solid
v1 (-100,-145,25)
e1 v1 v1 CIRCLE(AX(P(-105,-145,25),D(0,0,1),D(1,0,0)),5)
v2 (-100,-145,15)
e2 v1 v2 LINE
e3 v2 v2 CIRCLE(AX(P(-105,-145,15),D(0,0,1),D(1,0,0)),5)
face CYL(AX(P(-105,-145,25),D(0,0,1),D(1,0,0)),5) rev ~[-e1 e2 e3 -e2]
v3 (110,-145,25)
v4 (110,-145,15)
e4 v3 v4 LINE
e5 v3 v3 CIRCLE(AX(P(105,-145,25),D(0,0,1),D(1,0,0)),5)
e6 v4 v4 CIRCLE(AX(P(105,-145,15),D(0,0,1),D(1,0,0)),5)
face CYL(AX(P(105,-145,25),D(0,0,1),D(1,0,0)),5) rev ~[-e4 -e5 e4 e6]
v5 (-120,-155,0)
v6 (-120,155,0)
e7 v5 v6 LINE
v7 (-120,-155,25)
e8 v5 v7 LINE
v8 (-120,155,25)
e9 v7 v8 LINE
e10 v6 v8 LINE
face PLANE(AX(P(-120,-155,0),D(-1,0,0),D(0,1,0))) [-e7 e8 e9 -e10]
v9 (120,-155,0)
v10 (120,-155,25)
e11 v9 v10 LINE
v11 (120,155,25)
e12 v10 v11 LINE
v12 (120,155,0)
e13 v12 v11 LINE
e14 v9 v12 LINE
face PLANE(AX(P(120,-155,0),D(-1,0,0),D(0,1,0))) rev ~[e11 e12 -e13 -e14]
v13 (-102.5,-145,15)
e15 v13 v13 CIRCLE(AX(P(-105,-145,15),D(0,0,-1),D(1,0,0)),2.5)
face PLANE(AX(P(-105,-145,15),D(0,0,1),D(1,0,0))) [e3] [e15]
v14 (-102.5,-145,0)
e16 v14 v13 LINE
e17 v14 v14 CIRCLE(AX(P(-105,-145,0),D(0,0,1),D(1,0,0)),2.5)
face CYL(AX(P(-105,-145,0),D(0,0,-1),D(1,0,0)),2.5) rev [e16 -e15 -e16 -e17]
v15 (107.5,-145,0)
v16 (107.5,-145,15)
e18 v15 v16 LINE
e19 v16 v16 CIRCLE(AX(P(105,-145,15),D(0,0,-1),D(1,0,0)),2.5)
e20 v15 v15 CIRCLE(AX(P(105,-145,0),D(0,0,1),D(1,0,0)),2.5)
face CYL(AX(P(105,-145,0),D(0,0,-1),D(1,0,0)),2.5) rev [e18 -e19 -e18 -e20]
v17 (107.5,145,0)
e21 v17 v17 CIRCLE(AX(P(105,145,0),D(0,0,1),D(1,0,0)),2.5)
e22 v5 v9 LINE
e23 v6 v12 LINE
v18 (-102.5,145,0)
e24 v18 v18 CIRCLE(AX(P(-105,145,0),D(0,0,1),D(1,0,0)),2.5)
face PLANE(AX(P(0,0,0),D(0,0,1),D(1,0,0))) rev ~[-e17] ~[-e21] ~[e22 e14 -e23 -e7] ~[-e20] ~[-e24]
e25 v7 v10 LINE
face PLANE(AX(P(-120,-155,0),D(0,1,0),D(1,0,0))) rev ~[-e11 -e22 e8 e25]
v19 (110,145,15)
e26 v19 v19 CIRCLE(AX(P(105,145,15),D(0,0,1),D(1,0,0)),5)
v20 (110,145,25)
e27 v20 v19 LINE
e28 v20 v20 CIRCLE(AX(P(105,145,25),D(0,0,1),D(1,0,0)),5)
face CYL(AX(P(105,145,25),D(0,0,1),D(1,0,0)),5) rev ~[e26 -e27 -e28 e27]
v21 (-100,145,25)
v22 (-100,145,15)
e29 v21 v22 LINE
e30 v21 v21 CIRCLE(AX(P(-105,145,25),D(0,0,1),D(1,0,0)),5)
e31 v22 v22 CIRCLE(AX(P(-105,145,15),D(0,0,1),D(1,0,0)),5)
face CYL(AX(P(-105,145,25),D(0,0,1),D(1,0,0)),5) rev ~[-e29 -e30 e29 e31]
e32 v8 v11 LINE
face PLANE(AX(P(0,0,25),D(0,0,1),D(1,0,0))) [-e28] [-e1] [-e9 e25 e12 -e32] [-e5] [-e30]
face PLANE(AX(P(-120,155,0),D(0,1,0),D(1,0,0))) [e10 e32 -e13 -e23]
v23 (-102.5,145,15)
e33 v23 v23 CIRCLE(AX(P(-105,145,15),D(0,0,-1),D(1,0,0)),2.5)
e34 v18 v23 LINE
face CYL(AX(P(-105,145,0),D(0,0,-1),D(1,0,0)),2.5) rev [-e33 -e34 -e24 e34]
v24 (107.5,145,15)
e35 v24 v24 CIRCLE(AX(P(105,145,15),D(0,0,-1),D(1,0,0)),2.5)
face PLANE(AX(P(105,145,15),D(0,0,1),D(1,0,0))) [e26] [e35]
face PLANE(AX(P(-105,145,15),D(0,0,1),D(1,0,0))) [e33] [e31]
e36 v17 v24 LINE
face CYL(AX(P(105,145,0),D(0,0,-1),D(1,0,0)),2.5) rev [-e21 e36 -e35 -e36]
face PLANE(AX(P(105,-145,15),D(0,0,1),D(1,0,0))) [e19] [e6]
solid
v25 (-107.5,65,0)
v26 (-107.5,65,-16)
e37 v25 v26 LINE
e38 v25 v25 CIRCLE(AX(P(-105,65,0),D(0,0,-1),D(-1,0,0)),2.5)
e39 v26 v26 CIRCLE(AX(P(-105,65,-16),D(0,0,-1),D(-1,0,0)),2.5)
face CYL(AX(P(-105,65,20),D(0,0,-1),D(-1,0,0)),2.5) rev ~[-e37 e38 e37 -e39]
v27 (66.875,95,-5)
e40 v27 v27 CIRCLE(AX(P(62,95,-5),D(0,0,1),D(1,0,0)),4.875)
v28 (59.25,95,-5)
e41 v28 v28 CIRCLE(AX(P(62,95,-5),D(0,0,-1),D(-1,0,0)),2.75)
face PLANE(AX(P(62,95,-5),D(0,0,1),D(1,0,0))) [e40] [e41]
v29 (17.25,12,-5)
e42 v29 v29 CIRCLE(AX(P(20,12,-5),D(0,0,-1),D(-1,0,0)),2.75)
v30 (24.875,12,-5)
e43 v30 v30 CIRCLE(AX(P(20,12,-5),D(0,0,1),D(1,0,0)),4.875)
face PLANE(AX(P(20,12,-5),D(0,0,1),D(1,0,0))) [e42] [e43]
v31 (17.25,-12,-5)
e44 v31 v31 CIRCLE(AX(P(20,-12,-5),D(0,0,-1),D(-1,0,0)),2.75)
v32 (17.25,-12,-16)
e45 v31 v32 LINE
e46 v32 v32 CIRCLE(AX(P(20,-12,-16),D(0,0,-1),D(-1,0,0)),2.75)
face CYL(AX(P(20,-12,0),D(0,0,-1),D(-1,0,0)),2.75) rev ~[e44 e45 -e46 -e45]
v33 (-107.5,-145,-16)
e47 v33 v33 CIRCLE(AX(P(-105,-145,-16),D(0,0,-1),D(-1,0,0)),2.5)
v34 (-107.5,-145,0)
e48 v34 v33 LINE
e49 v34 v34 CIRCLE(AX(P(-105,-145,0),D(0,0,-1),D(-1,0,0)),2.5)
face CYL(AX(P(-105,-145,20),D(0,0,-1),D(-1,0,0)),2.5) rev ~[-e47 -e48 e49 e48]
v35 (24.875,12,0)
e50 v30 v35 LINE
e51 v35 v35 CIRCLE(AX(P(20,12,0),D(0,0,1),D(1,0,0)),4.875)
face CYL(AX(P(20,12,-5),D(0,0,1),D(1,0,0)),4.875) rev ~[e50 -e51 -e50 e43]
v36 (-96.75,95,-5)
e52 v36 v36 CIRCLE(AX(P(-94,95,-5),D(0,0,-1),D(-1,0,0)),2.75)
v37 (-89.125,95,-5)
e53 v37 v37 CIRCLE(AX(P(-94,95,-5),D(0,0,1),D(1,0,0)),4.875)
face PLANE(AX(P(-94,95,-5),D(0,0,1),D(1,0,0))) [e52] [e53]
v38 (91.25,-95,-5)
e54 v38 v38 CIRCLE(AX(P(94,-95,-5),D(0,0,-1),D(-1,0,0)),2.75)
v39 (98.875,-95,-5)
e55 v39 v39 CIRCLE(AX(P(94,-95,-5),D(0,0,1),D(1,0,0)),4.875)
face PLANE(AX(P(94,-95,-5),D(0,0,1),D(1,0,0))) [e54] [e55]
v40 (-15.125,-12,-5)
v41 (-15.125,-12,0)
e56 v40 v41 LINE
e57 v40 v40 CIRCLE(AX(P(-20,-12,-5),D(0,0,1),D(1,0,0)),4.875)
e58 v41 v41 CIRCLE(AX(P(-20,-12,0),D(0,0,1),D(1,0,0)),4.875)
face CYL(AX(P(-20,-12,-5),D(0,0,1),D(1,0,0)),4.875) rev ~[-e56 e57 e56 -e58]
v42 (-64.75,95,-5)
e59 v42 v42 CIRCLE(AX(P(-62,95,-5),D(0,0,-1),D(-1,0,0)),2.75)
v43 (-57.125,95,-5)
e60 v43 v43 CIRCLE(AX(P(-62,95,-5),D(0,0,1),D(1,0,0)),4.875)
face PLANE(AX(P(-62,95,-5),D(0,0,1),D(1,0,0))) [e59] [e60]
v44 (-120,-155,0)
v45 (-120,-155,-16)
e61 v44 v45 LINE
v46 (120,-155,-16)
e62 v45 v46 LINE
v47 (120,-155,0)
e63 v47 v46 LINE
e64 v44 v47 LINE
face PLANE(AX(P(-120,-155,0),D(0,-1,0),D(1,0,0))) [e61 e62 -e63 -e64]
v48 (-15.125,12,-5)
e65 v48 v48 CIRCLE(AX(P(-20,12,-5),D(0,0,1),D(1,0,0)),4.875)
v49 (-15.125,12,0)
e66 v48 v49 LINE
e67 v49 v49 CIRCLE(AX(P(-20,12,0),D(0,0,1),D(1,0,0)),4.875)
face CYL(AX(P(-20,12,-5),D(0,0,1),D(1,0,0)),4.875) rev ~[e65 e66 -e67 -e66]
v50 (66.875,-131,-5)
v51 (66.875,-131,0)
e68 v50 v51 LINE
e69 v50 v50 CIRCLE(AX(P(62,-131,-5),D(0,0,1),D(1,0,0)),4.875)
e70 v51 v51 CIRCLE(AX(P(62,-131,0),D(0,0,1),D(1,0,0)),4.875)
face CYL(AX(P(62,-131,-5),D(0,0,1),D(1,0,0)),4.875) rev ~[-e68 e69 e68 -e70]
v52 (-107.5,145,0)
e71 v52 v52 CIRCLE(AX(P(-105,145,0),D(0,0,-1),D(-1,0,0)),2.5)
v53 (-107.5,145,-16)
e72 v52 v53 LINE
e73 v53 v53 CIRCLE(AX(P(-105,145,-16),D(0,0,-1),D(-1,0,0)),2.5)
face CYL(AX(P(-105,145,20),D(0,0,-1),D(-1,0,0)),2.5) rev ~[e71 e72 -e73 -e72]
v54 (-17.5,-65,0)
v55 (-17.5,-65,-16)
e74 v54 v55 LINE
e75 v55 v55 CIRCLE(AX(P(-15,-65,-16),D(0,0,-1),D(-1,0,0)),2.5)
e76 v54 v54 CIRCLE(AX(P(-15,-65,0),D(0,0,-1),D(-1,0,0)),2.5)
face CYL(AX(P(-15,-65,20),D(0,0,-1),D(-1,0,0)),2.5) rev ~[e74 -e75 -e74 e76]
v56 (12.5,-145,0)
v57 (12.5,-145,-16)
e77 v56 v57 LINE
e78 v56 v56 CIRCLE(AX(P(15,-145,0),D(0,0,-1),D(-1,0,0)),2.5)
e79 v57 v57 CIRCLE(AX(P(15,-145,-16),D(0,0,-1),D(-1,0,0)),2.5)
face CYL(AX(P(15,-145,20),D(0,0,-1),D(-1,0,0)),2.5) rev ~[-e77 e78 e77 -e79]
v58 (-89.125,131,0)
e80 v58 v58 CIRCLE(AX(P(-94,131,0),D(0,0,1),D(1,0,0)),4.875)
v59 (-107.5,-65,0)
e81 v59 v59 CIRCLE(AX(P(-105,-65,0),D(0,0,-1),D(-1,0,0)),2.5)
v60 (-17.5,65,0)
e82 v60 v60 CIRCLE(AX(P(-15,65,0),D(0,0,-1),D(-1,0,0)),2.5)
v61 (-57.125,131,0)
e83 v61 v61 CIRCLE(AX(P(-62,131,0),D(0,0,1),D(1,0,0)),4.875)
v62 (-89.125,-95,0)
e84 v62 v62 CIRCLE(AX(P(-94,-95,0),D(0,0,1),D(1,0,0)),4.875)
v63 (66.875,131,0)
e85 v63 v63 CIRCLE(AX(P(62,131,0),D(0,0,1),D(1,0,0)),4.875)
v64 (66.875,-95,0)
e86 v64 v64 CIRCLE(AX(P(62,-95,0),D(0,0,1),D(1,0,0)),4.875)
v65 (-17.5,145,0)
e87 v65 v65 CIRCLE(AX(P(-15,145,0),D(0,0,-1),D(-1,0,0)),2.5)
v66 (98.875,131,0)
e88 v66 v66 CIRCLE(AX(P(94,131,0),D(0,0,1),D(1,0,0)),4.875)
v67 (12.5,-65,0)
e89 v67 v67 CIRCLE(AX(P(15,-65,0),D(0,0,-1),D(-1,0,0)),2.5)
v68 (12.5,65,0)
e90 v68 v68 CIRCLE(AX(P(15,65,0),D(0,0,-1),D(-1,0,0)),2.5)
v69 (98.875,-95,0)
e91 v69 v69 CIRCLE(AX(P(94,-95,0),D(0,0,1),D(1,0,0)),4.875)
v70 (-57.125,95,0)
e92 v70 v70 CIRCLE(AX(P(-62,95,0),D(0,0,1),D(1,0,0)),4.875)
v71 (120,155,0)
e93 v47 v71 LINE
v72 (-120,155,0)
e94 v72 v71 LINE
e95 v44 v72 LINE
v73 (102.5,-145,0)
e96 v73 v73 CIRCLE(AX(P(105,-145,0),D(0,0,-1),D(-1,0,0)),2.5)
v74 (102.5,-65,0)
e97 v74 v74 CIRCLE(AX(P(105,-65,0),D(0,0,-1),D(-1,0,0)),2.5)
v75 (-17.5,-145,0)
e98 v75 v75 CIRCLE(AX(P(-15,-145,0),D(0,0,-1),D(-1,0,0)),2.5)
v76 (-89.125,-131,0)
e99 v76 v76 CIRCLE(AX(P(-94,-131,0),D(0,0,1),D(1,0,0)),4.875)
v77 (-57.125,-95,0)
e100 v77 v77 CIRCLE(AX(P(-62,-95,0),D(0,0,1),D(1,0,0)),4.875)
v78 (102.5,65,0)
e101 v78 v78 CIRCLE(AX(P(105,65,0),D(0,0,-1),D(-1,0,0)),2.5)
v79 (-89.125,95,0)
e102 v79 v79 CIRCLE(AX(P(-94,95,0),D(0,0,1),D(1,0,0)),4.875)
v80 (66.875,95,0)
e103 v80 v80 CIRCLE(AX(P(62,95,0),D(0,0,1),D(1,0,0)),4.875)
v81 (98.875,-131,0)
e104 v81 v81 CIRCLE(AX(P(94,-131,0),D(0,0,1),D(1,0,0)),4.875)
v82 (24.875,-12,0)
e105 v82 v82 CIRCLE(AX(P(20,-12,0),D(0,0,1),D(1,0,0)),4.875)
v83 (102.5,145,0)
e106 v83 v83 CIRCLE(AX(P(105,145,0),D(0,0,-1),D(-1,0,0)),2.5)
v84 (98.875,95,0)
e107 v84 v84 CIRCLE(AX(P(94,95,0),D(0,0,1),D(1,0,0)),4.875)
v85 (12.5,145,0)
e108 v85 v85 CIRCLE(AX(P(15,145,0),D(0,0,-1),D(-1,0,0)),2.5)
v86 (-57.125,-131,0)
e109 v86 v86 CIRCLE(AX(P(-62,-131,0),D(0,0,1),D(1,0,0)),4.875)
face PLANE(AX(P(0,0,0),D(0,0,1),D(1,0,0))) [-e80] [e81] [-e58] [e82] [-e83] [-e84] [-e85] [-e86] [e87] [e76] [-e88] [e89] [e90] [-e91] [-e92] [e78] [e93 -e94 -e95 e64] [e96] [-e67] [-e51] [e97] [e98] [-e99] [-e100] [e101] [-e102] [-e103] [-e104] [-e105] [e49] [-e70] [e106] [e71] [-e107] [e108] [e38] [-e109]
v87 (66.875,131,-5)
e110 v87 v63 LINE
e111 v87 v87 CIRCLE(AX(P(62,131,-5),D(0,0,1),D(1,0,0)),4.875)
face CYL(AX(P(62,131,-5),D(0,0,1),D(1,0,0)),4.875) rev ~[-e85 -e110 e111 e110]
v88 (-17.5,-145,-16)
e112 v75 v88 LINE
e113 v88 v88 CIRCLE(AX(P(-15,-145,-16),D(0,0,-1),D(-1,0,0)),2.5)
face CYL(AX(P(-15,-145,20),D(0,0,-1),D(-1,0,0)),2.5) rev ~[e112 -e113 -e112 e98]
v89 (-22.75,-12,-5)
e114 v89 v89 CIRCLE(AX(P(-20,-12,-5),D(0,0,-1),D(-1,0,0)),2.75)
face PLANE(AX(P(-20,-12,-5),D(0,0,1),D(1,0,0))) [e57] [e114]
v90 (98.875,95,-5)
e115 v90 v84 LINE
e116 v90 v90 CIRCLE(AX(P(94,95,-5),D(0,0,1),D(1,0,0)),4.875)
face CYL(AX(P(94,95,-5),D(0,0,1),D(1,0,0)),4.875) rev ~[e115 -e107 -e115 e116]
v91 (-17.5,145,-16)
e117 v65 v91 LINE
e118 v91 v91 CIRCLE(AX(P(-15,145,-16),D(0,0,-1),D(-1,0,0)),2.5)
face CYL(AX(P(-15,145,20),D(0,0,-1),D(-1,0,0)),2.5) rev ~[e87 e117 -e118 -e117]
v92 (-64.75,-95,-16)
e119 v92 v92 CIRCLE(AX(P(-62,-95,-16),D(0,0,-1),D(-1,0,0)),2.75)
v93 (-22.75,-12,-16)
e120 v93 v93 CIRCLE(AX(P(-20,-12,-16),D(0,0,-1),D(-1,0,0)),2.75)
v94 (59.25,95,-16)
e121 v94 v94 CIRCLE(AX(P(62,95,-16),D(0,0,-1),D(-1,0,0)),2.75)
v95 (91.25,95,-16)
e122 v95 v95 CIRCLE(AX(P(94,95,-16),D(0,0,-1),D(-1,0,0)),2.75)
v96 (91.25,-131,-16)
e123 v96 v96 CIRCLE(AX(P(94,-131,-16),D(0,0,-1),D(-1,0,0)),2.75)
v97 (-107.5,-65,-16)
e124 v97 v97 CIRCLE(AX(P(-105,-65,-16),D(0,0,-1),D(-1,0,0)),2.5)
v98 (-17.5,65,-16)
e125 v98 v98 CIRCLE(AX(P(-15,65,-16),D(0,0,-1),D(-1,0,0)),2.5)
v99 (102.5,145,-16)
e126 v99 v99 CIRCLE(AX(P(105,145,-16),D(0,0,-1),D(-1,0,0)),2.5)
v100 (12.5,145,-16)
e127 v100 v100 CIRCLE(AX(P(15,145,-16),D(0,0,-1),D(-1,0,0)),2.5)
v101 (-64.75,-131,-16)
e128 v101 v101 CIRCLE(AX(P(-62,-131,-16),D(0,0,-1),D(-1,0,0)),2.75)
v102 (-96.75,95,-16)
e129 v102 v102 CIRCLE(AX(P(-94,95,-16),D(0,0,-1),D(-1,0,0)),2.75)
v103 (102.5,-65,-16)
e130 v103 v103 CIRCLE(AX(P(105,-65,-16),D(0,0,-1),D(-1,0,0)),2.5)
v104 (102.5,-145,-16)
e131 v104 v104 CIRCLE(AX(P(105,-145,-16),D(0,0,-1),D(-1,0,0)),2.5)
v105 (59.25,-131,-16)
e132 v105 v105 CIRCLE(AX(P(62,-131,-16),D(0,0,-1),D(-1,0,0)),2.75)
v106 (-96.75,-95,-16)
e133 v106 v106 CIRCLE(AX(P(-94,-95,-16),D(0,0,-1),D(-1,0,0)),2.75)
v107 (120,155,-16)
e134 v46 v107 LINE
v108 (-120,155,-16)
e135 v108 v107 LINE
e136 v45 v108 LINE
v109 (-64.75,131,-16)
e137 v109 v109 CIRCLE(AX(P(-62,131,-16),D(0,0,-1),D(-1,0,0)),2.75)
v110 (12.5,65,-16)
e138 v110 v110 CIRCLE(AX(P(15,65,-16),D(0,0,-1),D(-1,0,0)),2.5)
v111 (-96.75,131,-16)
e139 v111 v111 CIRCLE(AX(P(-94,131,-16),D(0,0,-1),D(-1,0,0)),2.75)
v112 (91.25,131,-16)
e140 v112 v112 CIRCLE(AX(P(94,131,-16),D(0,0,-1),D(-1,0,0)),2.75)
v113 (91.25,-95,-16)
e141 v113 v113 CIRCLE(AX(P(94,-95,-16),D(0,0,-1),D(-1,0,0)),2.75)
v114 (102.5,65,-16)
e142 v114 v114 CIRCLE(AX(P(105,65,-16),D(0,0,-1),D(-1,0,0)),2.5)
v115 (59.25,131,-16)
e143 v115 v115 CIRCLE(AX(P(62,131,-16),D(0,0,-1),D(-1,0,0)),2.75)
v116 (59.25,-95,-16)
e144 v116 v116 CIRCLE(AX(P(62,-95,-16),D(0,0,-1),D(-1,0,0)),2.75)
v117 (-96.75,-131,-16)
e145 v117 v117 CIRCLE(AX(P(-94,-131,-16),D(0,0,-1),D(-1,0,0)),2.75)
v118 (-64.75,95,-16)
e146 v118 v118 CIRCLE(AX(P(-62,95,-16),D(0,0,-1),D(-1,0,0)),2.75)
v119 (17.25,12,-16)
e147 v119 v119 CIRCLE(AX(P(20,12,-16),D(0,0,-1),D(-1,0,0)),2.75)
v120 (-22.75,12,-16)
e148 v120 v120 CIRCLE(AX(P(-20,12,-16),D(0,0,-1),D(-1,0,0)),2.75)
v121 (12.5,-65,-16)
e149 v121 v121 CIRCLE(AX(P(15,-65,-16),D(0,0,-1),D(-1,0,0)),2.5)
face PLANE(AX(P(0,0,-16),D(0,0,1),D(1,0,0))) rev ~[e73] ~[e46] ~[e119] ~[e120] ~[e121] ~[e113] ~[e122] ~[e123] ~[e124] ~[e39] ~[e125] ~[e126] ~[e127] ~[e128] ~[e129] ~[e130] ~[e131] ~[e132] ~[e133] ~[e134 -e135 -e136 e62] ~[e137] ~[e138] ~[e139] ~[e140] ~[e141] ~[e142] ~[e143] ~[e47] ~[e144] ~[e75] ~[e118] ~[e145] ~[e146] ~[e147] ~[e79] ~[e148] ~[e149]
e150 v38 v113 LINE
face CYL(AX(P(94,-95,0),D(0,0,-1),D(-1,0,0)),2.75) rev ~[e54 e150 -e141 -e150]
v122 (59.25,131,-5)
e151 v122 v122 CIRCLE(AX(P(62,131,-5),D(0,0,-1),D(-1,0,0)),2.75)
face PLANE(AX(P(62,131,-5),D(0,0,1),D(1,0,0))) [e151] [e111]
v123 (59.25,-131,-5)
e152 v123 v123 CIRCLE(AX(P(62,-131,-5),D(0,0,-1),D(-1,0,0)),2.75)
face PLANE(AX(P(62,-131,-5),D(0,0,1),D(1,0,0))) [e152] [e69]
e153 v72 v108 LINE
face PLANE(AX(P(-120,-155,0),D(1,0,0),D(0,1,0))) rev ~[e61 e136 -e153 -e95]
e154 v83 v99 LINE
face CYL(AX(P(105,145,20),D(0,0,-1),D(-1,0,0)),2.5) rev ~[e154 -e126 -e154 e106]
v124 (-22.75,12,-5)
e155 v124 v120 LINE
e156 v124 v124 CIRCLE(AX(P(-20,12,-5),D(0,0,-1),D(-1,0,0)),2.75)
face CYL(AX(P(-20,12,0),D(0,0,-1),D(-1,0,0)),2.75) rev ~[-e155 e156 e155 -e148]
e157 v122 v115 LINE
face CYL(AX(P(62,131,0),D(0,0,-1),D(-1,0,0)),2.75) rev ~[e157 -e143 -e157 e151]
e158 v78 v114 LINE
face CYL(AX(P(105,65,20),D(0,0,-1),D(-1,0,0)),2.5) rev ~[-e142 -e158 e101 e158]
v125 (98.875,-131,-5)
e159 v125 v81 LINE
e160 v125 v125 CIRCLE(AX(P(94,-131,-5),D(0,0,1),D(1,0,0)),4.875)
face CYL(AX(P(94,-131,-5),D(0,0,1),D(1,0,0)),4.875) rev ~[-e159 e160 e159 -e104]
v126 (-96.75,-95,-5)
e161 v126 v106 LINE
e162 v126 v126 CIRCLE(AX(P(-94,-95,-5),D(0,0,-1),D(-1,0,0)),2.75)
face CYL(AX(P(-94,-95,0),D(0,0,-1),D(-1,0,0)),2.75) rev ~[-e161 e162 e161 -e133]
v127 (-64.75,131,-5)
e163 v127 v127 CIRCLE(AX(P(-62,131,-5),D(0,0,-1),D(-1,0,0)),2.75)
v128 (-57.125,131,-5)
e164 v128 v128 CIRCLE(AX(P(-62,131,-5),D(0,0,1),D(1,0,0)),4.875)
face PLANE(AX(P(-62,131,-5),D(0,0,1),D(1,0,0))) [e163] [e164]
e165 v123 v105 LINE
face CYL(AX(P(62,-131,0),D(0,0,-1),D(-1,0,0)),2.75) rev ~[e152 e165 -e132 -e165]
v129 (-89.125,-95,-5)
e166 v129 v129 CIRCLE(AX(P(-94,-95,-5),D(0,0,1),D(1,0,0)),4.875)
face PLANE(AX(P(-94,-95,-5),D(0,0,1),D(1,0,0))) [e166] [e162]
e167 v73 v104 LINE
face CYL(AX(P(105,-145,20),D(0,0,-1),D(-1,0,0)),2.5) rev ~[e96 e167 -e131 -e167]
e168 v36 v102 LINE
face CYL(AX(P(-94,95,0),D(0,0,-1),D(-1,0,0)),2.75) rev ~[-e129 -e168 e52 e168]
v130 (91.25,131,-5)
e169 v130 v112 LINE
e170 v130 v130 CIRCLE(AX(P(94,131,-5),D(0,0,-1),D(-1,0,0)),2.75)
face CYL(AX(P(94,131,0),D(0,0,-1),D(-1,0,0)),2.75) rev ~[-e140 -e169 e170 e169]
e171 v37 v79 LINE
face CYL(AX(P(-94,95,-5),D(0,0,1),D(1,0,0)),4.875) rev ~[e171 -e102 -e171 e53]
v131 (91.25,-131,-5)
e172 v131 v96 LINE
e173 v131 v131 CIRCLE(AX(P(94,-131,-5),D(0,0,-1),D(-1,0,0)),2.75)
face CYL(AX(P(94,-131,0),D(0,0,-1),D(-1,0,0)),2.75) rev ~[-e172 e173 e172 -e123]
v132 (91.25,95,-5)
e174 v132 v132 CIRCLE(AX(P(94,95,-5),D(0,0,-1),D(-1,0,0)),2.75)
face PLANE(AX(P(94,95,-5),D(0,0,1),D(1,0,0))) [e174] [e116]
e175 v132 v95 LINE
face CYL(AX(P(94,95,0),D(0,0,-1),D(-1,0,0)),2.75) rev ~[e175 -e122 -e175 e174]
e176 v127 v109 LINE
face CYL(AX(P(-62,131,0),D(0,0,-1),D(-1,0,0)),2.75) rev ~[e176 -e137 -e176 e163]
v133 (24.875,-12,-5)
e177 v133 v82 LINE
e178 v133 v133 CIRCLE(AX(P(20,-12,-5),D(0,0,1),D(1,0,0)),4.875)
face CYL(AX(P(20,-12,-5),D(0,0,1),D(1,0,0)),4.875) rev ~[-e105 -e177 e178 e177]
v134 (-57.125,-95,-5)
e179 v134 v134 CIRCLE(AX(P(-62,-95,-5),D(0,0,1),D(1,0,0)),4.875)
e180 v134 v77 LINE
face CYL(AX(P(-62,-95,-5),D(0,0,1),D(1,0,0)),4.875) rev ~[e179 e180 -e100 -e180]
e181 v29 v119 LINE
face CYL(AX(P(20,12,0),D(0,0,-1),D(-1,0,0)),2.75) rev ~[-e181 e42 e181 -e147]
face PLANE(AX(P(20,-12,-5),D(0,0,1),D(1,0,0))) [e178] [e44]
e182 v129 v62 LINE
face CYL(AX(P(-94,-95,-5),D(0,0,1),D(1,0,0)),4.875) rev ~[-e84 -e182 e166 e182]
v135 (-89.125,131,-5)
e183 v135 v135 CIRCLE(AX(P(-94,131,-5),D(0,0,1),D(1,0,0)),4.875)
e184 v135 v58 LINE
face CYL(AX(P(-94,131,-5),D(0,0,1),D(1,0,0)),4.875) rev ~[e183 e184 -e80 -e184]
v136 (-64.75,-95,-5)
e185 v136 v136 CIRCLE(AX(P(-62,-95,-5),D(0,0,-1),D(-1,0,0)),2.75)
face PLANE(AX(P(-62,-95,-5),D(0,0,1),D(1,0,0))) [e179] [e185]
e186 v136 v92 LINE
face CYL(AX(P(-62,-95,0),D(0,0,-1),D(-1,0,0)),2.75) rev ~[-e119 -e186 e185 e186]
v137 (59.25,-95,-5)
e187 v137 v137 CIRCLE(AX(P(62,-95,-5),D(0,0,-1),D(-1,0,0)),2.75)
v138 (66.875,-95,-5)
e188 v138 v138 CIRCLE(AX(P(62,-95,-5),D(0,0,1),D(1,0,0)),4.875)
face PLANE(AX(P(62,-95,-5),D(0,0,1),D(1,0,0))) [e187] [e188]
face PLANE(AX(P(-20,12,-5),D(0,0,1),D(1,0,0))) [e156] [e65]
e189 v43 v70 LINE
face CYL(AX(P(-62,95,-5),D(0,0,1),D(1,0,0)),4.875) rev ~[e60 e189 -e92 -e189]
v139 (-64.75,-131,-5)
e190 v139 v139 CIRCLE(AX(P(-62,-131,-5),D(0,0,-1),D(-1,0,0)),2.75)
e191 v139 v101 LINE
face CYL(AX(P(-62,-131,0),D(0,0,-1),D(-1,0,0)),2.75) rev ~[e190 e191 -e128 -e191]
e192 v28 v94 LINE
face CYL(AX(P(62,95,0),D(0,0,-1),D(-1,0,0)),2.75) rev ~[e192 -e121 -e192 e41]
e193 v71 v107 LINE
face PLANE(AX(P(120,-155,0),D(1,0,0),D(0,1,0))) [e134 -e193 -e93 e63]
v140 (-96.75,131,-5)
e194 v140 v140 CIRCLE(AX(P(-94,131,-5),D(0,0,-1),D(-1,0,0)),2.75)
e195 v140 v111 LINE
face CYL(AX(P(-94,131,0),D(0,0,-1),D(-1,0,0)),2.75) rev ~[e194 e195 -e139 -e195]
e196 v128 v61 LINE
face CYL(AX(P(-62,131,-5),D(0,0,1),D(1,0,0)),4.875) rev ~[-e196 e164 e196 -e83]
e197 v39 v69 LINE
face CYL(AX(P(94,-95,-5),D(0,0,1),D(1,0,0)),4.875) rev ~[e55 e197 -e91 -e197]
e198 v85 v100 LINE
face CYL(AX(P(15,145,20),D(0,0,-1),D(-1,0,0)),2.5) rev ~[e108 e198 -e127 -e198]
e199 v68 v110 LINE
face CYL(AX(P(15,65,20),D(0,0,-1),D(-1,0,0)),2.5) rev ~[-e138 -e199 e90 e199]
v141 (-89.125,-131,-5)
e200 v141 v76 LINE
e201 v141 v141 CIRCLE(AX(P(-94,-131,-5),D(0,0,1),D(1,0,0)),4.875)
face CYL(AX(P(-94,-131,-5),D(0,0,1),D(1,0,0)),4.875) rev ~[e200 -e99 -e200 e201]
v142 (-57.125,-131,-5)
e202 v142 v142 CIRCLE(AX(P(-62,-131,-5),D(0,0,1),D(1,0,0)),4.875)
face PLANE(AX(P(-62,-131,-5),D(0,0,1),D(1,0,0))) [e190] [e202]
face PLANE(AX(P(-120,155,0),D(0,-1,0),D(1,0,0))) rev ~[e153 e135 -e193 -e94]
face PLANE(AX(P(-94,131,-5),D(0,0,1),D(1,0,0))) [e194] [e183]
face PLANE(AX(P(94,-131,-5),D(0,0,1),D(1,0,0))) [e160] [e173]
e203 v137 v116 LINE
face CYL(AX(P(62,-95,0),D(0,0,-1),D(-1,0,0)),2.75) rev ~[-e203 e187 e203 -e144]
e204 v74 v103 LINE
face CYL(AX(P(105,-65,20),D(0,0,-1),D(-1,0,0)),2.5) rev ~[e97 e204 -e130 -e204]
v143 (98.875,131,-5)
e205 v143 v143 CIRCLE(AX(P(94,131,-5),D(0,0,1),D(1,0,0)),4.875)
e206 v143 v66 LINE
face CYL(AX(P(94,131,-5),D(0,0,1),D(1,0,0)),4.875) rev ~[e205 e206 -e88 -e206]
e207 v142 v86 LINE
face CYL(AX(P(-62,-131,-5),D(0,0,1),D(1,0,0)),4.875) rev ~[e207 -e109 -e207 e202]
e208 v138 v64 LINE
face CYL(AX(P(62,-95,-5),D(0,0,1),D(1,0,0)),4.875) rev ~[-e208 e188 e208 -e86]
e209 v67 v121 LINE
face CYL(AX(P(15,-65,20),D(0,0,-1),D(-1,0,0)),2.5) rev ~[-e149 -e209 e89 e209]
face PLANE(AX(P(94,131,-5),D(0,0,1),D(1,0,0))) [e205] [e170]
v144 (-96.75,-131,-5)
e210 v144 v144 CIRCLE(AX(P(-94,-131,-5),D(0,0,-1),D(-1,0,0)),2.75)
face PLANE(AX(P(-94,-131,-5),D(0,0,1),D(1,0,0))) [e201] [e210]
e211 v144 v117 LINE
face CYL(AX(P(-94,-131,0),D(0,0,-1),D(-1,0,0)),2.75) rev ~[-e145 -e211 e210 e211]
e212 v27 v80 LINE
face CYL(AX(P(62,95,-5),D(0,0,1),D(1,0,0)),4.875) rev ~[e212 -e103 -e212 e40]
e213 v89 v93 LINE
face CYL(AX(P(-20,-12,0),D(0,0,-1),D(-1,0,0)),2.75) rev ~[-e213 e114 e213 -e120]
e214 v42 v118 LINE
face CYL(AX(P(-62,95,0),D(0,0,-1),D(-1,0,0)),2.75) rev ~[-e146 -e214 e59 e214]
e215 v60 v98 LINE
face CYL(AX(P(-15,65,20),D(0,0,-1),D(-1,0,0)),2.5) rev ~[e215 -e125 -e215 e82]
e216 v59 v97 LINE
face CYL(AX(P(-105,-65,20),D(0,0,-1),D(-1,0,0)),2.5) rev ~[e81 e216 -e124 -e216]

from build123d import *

# Parameters (mm, degrees)
F0_W           = 240
F0_H           = 310
F1_DEPTH       = 16
F2_D           = 5.5
F2_CBORE_D     = 9.75
F2_CBORE_DEPTH = 5
F4_D           = 5
F4_DEPTH       = 20
F4_TIP         = 1.5021515476
F5_W           = 240
F5_H           = 310
F5_R           = 2.5
F6_DEPTH       = 25
F7_R           = 5
F8_DEPTH       = 10


with BuildPart() as f1:
    # F0 (on Top) → F1 (new body)
    with BuildSketch(Plane.XY):
        Rectangle(F0_W, F0_H)
    extrude(amount=-F1_DEPTH)

    # F2 (through all)
    with Locations(Plane.XY):
        with Locations((94, 131), (62, 131), (94, 95), (62, 95), (-62, 131), (-94, 131), (-62, 95), (-94, 95), (94, -95), (62, -95), (94, -131), (62, -131), (-62, -95), (-94, -95), (-62, -131), (-94, -131), (20, 12), (20, -12), (-20, 12), (-20, -12)):
            CounterBoreHole(F2_D / 2, F2_CBORE_D / 2, F2_CBORE_DEPTH)

    # F4
    with Locations(Plane.XY):
        with Locations((-15, 145), (15, 145), (-105, 65), (105, 65), (-105, -65), (105, -65), (-15, -145), (15, -145), (-105, -145), (105, -145), (105, 145), (-105, 145), (-15, 65), (15, 65), (-15, -65), (15, -65)):
            Hole(F4_D / 2, depth=F4_DEPTH)
            with Locations((0, 0, -(F4_DEPTH + F4_TIP / 2))):  # 118° drill point
                Cone(0, F4_D / 2, F4_TIP, mode=Mode.SUBTRACT)


with BuildPart() as f6:
    # F5 (on face) → F6 (new body)
    with BuildSketch(Plane.XY):
        Rectangle(F5_W, F5_H)
        with Locations((-105, -145)):
            Circle(F5_R, mode=Mode.SUBTRACT)
        with Locations((105, -145)):
            Circle(F5_R, mode=Mode.SUBTRACT)
        with Locations((-105, 145)):
            Circle(F5_R, mode=Mode.SUBTRACT)
        with Locations((105, 145)):
            Circle(F5_R, mode=Mode.SUBTRACT)
    extrude(amount=F6_DEPTH)

    # F7 (on face) → F8 (cut)
    with BuildSketch(Plane.XY.offset(25)):
        with Locations((-105, -145)):
            Circle(F7_R)
        with Locations((105, -145)):
            Circle(F7_R)
        with Locations((105, 145)):
            Circle(F7_R)
        with Locations((-105, 145)):
            Circle(F7_R)
    extrude(amount=-F8_DEPTH, mode=Mode.SUBTRACT)


solid = Compound([f1.part, f6.part])
